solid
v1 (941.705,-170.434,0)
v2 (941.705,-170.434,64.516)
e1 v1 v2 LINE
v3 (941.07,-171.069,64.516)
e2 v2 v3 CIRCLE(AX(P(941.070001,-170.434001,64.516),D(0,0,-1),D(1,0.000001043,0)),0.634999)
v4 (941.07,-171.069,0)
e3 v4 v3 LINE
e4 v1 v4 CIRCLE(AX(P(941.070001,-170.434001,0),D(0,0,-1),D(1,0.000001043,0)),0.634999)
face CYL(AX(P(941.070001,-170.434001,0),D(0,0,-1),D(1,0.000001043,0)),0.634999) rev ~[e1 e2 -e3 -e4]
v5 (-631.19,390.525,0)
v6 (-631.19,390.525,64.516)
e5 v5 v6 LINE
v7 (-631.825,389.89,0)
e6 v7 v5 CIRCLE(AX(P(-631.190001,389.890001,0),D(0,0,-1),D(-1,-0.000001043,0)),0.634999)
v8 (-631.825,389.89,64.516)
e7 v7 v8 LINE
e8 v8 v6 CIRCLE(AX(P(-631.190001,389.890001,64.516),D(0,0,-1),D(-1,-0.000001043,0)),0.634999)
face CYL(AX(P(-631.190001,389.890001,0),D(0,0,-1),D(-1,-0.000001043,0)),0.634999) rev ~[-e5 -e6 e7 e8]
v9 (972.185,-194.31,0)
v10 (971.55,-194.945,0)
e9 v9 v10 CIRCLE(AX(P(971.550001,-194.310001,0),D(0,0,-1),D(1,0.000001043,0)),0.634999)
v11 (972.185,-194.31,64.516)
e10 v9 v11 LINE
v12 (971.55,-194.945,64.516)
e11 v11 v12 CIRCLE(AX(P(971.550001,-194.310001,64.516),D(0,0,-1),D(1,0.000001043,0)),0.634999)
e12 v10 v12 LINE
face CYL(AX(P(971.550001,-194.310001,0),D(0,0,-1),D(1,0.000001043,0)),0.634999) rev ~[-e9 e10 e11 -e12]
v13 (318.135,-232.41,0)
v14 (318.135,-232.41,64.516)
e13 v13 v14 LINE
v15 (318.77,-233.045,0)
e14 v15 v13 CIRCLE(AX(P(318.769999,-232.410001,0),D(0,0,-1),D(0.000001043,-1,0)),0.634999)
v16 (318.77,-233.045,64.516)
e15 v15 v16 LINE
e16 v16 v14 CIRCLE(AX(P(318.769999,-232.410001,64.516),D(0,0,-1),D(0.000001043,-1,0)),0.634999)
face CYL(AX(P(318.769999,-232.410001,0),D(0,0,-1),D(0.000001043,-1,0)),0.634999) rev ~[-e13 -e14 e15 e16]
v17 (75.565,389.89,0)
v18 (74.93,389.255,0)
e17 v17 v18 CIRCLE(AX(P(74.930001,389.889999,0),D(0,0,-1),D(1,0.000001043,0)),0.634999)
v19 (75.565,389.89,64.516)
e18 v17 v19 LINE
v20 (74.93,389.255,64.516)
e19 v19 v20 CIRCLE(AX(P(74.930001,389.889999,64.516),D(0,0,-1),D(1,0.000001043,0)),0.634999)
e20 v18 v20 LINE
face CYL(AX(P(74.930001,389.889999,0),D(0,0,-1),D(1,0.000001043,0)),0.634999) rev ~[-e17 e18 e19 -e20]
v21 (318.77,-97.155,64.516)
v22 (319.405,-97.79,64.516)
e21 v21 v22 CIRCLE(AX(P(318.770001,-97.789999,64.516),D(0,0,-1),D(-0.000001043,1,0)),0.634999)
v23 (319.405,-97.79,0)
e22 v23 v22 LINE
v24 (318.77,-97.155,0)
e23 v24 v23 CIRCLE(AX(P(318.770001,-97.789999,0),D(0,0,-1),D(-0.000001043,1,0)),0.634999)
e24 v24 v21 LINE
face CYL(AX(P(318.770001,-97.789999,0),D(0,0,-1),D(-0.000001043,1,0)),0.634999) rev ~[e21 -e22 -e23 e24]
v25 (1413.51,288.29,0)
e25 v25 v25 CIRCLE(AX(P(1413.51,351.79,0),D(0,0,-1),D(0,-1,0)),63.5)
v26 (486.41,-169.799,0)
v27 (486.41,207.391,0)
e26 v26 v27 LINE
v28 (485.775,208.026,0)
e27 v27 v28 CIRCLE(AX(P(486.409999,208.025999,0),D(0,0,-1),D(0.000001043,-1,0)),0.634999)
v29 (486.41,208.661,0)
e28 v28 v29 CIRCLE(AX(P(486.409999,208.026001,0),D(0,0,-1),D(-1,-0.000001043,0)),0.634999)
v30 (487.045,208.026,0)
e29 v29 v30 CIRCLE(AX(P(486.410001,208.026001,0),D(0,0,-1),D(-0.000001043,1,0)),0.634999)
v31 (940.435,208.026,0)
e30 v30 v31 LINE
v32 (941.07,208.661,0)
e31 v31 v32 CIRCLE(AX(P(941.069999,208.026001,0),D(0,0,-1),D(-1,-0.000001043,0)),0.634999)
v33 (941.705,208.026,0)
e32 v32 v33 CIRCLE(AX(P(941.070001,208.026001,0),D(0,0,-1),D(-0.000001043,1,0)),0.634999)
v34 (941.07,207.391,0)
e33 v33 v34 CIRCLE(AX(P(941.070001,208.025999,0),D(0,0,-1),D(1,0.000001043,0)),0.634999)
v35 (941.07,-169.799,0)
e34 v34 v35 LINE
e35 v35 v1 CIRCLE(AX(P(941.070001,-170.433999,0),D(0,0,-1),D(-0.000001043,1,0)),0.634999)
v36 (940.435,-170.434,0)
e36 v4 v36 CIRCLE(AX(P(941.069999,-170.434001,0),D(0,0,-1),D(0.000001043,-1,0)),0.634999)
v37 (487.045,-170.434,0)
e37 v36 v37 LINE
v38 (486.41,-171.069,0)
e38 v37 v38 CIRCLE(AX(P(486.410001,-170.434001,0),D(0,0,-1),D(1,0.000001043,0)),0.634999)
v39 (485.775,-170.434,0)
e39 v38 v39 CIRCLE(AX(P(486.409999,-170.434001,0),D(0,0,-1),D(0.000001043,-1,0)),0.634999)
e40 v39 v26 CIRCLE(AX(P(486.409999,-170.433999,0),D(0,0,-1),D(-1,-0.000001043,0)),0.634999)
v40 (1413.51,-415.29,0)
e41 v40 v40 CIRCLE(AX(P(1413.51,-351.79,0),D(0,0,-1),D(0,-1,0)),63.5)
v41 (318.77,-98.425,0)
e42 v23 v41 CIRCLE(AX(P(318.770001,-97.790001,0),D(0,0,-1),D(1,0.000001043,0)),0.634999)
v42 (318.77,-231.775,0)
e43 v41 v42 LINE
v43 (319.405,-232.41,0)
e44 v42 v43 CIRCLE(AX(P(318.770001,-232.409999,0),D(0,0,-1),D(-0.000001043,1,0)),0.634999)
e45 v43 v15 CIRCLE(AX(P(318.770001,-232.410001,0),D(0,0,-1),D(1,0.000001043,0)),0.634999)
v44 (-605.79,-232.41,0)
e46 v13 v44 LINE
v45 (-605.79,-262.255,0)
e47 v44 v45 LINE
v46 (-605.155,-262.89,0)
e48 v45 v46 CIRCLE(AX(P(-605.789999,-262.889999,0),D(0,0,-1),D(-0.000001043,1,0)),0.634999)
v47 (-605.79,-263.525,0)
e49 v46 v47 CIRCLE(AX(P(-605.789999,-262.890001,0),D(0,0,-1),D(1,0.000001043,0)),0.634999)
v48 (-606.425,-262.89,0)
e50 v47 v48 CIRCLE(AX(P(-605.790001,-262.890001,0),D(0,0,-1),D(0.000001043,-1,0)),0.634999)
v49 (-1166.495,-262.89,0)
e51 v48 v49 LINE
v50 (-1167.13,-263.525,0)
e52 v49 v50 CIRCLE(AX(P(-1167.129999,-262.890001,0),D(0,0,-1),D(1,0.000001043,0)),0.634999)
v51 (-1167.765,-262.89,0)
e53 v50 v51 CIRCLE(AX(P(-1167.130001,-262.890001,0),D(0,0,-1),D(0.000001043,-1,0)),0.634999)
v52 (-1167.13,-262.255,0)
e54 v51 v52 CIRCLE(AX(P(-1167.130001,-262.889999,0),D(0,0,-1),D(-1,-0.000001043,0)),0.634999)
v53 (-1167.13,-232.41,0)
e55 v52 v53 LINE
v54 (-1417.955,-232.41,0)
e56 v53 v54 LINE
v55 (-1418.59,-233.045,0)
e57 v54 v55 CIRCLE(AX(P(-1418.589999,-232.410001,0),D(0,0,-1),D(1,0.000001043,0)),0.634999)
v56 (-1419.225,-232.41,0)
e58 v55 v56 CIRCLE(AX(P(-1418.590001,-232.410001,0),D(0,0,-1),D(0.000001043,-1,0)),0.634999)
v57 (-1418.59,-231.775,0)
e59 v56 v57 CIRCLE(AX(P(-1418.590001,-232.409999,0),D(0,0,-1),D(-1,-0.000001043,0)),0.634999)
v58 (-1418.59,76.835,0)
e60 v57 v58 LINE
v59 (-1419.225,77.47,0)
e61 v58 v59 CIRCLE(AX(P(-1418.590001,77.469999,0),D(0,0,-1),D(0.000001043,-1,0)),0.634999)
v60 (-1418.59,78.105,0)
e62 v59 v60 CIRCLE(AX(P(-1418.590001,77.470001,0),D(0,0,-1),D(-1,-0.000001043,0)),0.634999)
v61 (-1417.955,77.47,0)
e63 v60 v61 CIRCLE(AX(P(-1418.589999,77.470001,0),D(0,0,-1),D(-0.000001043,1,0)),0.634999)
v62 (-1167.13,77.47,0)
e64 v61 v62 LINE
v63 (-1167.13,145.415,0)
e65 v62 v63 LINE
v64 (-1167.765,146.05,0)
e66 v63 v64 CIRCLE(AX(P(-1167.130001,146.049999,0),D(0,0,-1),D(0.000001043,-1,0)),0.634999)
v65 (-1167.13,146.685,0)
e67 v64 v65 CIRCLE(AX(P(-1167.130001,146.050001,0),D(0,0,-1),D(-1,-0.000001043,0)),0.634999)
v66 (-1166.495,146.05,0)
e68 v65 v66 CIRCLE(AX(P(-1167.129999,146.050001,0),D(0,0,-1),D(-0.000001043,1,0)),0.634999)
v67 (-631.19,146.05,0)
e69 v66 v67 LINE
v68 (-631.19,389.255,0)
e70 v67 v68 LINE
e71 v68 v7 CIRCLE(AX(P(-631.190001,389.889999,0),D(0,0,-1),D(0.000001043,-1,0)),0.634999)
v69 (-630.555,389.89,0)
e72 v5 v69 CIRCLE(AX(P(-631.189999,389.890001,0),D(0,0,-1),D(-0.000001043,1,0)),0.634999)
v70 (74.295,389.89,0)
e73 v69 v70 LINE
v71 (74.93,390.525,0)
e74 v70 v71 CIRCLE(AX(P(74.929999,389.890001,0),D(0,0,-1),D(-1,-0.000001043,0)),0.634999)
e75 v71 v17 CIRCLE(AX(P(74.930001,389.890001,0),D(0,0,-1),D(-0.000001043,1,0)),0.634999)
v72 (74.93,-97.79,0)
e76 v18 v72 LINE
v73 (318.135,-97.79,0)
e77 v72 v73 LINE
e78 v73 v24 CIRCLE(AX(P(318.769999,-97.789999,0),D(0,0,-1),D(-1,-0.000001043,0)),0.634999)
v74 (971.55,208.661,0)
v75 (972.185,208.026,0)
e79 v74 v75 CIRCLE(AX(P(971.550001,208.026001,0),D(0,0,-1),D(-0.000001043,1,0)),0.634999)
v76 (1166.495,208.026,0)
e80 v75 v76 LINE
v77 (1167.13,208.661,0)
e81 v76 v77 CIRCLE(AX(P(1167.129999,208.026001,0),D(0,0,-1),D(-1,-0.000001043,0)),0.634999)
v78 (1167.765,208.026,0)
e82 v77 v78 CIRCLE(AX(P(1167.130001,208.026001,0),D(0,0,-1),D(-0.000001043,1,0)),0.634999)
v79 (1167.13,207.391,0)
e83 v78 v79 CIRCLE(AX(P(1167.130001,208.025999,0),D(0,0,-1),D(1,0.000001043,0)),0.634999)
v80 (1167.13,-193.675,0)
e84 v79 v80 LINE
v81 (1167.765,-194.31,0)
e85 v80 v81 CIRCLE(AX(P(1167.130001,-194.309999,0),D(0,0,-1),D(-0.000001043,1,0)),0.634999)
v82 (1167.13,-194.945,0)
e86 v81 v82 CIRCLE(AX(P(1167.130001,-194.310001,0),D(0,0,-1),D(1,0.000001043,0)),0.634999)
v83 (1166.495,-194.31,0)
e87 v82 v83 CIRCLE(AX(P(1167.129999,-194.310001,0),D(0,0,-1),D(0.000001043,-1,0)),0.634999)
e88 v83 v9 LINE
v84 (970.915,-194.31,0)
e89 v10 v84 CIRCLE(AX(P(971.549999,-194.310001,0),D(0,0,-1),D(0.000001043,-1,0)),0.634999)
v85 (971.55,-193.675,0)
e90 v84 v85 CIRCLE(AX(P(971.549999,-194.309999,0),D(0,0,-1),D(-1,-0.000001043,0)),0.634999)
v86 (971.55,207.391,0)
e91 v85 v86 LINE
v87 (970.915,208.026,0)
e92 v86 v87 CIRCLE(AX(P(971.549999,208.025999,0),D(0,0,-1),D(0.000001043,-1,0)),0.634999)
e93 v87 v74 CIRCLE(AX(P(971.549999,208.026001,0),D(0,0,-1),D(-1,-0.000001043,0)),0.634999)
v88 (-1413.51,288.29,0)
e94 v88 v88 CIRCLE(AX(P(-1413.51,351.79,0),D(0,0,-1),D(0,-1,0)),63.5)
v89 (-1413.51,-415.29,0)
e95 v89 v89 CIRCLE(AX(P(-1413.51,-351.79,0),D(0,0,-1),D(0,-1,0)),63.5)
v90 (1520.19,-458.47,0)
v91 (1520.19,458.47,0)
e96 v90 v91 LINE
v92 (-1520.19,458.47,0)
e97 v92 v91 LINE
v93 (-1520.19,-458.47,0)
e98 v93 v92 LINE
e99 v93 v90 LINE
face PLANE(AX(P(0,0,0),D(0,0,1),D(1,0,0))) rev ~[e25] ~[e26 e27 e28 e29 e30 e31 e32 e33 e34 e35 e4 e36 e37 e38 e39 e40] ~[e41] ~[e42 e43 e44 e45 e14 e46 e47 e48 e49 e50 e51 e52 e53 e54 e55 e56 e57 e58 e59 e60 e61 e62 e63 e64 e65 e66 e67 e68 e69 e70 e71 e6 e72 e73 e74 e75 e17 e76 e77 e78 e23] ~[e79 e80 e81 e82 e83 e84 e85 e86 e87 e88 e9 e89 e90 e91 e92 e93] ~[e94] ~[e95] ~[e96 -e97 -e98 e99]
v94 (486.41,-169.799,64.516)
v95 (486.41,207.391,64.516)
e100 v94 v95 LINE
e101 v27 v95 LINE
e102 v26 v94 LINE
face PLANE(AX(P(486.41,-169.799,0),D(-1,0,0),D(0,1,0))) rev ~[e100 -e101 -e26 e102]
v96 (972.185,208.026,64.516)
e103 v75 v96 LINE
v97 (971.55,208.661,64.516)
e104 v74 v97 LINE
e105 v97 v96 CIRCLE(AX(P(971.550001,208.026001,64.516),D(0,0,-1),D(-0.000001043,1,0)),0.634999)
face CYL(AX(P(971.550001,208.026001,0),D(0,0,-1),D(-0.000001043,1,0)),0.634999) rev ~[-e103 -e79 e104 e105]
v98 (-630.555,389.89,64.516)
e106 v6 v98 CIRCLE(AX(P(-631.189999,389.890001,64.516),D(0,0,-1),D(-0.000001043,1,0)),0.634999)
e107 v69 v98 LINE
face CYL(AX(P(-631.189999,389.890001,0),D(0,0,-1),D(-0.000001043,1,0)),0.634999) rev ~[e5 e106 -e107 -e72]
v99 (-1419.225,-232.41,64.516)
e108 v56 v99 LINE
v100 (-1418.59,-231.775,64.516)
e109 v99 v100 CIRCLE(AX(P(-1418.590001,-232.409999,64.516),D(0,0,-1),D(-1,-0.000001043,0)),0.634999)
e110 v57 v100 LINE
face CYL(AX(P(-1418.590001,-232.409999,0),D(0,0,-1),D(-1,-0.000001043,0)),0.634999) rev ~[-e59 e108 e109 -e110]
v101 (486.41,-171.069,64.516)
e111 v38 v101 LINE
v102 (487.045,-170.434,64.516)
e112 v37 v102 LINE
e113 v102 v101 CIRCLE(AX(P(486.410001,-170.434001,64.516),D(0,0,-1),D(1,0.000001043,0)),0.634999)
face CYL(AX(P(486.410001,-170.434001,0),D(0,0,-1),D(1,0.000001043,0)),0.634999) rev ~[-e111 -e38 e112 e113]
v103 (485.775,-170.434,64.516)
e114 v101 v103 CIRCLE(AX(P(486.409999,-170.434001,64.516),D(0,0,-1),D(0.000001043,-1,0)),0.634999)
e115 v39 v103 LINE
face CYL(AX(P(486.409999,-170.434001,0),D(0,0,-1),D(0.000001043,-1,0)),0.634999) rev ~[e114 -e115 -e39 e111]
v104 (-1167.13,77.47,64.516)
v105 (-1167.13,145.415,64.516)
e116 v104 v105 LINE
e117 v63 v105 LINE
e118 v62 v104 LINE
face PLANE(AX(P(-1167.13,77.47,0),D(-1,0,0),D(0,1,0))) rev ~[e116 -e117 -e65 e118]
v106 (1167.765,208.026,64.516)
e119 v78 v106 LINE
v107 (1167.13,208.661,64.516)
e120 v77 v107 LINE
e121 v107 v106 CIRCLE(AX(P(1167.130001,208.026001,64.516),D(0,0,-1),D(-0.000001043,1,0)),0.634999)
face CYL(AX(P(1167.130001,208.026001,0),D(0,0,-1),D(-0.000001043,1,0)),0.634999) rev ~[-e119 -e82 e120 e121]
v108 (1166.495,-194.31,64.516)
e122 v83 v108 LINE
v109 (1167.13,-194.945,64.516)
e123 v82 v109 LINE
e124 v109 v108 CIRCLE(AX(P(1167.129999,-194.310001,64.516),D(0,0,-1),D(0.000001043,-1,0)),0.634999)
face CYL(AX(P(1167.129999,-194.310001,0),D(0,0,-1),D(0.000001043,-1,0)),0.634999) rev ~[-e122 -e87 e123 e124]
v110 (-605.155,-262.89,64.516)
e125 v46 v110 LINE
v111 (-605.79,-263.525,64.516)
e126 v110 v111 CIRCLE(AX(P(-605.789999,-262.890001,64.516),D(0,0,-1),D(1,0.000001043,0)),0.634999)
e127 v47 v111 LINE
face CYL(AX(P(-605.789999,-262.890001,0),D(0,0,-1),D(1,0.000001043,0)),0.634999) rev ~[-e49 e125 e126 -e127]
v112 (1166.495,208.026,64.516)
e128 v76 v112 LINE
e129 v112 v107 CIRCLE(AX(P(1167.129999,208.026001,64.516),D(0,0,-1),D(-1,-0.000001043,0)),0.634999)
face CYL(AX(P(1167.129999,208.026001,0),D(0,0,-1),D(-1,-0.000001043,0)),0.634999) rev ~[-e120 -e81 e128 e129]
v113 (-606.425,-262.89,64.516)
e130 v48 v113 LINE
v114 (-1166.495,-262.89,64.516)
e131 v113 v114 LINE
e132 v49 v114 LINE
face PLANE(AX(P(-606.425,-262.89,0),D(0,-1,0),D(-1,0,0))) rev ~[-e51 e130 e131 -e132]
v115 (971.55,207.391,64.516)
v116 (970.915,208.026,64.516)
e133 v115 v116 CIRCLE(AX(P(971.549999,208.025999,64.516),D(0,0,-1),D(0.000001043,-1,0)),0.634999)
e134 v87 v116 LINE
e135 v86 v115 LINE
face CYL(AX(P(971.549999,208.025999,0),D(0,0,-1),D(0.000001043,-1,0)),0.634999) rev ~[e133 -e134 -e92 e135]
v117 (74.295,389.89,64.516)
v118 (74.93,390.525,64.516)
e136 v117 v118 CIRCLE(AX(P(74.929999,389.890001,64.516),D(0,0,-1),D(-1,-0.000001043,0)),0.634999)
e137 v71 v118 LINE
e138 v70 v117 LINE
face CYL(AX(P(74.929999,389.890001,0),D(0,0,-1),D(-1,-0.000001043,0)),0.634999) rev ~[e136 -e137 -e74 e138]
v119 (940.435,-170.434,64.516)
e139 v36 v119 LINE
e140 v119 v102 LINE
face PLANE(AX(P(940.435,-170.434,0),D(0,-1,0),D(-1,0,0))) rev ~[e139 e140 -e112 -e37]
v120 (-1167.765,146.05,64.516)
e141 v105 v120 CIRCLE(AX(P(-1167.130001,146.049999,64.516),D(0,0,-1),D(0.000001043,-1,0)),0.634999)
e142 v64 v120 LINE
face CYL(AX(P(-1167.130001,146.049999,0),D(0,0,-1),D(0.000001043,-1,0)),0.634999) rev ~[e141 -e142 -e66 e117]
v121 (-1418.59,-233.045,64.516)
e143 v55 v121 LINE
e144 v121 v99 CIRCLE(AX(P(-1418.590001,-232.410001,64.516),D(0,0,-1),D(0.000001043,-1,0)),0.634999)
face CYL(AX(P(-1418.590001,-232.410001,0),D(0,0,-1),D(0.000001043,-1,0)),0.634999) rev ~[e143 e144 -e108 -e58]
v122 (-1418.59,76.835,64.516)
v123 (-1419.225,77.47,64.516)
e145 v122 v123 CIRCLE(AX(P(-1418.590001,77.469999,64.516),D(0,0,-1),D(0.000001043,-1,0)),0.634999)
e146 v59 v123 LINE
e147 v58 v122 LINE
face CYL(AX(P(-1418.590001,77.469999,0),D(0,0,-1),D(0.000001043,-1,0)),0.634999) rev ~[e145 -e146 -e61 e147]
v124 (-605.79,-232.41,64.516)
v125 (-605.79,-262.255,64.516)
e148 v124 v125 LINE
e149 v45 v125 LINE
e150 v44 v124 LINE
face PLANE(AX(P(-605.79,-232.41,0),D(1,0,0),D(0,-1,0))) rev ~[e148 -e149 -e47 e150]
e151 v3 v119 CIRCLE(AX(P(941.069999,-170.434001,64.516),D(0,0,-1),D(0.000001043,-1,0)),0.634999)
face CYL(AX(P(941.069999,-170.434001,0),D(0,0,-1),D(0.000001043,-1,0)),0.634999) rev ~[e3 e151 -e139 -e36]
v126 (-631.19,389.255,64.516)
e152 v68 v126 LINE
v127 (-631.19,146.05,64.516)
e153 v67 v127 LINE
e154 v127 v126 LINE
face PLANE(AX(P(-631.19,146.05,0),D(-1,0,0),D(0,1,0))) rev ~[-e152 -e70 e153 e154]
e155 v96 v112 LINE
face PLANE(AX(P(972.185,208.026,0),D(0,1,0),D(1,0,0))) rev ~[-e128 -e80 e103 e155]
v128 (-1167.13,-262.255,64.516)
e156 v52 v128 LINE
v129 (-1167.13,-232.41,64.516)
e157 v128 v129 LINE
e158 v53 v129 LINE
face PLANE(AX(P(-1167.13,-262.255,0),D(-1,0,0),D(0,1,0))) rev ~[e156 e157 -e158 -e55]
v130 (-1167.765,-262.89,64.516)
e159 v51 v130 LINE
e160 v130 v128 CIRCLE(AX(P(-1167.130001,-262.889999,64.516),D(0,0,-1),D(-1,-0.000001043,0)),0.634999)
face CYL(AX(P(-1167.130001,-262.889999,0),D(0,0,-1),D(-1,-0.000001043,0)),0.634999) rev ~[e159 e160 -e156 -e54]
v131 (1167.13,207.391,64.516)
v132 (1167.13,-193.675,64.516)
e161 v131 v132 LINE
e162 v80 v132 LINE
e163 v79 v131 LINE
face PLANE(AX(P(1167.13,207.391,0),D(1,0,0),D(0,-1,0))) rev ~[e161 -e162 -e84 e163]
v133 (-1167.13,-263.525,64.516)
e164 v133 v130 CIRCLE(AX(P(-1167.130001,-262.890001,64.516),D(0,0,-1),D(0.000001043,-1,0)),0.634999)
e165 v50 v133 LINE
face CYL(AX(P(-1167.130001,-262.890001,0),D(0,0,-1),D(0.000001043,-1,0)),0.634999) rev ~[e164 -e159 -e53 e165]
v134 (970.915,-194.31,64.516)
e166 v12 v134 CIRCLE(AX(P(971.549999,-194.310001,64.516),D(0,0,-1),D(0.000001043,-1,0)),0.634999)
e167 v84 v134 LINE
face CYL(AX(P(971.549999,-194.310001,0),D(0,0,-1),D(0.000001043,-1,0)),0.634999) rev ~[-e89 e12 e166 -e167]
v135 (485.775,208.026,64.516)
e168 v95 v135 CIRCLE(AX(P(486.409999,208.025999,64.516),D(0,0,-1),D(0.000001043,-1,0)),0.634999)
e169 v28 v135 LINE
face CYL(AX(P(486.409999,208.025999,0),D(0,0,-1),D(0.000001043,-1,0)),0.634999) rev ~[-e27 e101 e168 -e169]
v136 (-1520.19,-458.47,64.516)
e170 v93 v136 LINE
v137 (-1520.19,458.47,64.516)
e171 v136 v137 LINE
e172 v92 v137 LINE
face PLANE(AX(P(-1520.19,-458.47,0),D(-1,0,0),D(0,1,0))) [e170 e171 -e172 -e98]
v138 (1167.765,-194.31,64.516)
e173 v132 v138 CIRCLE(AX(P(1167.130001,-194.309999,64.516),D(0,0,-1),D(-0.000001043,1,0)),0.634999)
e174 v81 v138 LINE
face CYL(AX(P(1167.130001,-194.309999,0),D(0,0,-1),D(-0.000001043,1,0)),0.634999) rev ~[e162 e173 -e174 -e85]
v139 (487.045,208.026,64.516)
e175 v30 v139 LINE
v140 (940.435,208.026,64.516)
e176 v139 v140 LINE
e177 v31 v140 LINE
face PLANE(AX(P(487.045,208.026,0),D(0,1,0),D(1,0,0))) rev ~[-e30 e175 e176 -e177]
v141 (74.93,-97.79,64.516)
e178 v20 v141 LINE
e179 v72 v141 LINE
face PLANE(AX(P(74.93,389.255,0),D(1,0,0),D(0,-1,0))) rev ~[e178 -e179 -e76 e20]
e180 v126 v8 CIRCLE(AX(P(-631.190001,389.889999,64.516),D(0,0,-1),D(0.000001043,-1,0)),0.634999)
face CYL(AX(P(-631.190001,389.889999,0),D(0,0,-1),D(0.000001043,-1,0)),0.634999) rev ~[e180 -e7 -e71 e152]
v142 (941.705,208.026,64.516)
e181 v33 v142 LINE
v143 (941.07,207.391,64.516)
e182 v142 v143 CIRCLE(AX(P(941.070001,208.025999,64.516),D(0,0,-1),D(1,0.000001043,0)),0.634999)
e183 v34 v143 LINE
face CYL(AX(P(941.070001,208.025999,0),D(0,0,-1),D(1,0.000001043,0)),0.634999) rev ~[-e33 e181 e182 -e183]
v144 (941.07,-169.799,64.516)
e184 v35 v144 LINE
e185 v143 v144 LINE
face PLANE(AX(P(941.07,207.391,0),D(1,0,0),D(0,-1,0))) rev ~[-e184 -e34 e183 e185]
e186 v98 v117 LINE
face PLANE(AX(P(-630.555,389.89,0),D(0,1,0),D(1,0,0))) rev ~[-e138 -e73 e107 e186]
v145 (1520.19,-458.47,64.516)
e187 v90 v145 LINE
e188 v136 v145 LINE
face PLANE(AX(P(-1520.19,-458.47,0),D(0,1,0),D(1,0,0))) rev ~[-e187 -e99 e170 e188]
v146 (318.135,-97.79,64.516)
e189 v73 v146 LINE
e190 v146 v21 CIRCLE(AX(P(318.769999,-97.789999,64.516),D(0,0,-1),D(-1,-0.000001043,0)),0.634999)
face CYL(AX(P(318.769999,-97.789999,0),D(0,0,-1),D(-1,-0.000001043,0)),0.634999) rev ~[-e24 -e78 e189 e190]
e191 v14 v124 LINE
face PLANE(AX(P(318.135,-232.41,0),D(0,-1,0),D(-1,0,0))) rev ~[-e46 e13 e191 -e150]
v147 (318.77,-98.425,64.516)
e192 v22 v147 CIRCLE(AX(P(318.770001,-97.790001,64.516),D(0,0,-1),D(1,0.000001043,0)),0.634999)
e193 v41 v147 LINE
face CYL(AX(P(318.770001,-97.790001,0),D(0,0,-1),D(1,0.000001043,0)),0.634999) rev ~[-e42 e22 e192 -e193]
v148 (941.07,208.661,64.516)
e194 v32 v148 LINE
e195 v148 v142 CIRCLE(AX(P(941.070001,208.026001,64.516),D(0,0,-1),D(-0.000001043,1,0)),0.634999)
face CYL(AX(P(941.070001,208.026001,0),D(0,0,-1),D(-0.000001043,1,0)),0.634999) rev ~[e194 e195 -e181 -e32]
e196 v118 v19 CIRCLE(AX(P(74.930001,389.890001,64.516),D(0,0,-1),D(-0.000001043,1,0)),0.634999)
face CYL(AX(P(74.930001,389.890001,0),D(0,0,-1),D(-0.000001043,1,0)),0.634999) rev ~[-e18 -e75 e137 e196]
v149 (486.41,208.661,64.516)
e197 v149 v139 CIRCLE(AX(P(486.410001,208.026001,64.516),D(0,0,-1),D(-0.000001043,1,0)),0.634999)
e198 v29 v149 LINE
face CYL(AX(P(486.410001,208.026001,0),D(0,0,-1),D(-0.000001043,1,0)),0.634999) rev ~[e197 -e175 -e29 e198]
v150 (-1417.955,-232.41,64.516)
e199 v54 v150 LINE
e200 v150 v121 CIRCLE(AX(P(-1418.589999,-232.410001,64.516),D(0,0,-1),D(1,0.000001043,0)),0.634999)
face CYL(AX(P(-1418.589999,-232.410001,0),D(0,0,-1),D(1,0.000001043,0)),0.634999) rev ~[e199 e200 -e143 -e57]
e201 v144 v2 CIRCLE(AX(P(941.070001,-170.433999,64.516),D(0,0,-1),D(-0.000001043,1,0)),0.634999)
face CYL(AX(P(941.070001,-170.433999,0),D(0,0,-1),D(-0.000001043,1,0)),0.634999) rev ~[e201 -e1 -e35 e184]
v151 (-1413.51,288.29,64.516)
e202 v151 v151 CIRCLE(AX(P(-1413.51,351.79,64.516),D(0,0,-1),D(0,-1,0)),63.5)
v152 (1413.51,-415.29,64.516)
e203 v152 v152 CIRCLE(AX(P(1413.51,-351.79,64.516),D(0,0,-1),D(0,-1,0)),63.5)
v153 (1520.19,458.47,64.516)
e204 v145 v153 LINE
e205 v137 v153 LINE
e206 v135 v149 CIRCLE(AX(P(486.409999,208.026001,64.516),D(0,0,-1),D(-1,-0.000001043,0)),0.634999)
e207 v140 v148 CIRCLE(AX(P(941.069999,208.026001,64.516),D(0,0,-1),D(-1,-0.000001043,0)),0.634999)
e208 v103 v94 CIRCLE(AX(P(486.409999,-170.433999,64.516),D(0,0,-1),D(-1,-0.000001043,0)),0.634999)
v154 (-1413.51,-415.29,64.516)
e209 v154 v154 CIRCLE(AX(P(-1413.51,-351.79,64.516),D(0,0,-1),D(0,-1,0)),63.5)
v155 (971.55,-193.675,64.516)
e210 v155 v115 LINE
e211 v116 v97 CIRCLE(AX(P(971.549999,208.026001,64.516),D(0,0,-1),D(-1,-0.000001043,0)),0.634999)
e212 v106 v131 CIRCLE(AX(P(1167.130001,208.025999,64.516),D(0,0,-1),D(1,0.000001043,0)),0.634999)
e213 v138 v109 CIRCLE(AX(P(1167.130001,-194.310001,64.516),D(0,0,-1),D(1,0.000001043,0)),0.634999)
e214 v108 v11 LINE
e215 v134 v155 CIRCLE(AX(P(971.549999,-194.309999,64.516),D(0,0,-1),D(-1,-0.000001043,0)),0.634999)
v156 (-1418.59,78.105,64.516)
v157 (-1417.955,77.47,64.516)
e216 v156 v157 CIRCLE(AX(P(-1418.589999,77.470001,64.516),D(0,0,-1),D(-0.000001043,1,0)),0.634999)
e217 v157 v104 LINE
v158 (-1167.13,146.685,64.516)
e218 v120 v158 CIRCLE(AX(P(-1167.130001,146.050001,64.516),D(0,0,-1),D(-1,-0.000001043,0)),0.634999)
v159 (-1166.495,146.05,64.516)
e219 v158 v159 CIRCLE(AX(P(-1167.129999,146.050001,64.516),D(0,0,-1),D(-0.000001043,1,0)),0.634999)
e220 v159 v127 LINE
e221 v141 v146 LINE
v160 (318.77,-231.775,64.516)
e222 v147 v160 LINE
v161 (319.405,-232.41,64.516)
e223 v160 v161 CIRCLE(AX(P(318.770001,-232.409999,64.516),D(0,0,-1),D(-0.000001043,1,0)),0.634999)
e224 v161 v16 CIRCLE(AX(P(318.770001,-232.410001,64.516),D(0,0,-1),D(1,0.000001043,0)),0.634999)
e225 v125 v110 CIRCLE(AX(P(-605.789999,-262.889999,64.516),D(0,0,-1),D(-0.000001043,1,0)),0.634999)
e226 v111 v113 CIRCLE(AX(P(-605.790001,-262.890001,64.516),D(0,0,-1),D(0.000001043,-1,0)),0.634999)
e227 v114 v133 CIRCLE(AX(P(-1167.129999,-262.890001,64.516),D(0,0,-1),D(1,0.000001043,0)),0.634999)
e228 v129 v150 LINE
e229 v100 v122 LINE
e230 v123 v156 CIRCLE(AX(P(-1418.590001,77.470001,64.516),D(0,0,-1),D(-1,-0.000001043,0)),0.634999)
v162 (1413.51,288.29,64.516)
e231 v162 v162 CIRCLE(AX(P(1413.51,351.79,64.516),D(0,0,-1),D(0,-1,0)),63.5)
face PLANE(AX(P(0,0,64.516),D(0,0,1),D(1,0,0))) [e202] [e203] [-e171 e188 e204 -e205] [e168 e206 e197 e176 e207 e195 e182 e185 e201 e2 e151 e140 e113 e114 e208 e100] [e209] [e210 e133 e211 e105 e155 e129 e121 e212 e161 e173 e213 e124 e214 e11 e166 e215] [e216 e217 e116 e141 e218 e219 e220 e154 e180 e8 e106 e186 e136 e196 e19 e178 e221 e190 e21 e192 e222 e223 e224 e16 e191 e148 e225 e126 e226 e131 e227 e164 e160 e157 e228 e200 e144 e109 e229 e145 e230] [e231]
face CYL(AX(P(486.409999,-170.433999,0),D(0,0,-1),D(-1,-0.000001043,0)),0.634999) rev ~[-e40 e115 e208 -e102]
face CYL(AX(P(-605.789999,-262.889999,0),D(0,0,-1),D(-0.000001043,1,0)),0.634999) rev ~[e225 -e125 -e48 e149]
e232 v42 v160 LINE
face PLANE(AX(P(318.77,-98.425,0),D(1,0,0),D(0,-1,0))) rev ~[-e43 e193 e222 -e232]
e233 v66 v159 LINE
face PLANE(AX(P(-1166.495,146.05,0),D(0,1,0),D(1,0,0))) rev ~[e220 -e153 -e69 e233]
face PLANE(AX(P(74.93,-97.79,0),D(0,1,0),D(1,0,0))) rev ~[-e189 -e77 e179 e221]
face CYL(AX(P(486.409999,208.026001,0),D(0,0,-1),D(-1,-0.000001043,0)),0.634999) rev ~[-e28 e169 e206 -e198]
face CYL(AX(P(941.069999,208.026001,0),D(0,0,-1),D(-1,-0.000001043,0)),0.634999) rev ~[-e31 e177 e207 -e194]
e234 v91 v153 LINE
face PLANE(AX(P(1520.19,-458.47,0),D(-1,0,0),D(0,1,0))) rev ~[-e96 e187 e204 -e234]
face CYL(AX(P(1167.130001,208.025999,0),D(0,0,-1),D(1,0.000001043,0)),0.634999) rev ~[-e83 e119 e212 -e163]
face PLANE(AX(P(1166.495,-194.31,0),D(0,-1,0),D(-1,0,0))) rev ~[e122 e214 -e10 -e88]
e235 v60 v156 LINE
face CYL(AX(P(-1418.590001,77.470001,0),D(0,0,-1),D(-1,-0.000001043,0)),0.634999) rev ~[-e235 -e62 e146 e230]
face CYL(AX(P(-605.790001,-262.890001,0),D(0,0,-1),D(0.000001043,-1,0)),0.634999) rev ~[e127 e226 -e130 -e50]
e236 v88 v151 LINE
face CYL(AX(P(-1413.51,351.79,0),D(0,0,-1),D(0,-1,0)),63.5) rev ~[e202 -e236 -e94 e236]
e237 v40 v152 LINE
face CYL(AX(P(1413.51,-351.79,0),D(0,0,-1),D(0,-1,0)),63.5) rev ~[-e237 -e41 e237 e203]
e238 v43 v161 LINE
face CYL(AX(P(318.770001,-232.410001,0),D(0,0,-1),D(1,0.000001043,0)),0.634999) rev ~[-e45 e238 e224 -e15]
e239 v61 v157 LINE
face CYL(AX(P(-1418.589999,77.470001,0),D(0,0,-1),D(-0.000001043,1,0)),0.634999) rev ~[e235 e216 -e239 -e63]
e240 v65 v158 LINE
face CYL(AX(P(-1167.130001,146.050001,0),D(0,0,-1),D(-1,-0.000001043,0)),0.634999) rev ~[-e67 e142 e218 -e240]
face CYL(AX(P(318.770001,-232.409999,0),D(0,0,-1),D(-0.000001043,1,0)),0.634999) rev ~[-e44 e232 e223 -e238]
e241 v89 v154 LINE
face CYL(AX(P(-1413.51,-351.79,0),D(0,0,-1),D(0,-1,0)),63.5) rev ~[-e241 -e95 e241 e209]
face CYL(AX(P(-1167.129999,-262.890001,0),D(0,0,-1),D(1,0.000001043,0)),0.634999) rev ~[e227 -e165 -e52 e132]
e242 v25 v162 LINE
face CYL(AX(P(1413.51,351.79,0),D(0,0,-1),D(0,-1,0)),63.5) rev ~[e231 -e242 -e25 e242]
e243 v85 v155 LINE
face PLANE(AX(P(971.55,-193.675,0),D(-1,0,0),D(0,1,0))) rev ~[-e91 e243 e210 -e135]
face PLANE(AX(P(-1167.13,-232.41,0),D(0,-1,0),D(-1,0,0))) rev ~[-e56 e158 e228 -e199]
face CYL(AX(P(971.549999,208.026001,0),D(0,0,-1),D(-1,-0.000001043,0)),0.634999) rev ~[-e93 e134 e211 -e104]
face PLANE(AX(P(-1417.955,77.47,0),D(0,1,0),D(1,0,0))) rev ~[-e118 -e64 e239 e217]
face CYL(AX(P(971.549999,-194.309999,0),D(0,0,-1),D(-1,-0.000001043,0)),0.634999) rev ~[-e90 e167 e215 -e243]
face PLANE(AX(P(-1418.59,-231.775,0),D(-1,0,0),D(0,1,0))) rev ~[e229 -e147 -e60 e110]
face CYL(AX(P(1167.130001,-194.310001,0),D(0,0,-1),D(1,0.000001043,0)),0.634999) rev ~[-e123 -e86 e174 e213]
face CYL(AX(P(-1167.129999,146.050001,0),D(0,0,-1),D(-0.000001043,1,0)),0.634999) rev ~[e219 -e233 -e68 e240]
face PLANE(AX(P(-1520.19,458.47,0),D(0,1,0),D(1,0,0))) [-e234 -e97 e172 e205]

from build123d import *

# Parameters (mm, degrees)
F0_W     = 3040.38
F0_H     = 916.94
F1_DEPTH = 64.516


with BuildPart() as f1:
    # F0 (on Top) → F1 (new body)
    with BuildSketch(Plane.XY):
        Rectangle(F0_W, F0_H)
        with BuildLine():
            ThreePointArc((-1413.51, -288.29), (-1350.01, -351.79), (-1413.51, -415.29))
            ThreePointArc((-1413.51, -415.29), (-1477.01, -351.79), (-1413.51, -288.29))
        make_face(mode=Mode.SUBTRACT)
        with BuildLine():
            ThreePointArc((1413.51, -288.29), (1477.01, -351.79), (1413.51, -415.29))
            ThreePointArc((1413.51, -415.29), (1350.01, -351.79), (1413.51, -288.29))
        make_face(mode=Mode.SUBTRACT)
        with BuildLine():
            Line((-1167.765, -232.41), (-1417.955, -232.41))
            ThreePointArc((-1417.955, -232.41), (-1418.140987, -232.859013), (-1418.59, -233.045))
            ThreePointArc((-1418.59, -233.045), (-1419.039013, -232.859013), (-1419.225, -232.41))
            ThreePointArc((-1419.225, -232.41), (-1419.039013, -231.960987), (-1418.59, -231.775))
            Line((-1418.59, -231.775), (-1418.59, 76.835))
            ThreePointArc((-1418.59, 76.835), (-1419.039013, 77.020987), (-1419.225, 77.47))
            ThreePointArc((-1419.225, 77.47), (-1419.039013, 77.919013), (-1418.59, 78.105))
            ThreePointArc((-1418.59, 78.105), (-1418.140987, 77.919013), (-1417.955, 77.47))
            Line((-1417.955, 77.47), (-1167.765, 77.47))
            Line((-1167.765, 77.47), (-1167.13, 77.47))
            Line((-1167.13, 77.47), (-1167.13, 78.105))
            Line((-1167.13, 78.105), (-1167.13, 145.415))
            ThreePointArc((-1167.13, 145.415), (-1167.579013, 145.600987), (-1167.765, 146.05))
            ThreePointArc((-1167.765, 146.05), (-1167.579013, 146.499013), (-1167.13, 146.685))
            ThreePointArc((-1167.13, 146.685), (-1166.680987, 146.499013), (-1166.495, 146.05))
            Line((-1166.495, 146.05), (-631.825, 146.05))
            Line((-631.825, 146.05), (-631.19, 146.05))
            Line((-631.19, 146.05), (-631.19, 146.685))
            Line((-631.19, 146.685), (-631.19, 389.255))
            ThreePointArc((-631.19, 389.255), (-631.639013, 389.440987), (-631.825, 389.89))
            ThreePointArc((-631.825, 389.89), (-631.639013, 390.339013), (-631.19, 390.525))
            ThreePointArc((-631.19, 390.525), (-630.740987, 390.339013), (-630.555, 389.89))
            Line((-630.555, 389.89), (74.295, 389.89))
            ThreePointArc((74.295, 389.89), (74.480987, 390.339013), (74.93, 390.525))
            ThreePointArc((74.93, 390.525), (75.379013, 390.339013), (75.565, 389.89))
            ThreePointArc((75.565, 389.89), (75.379013, 389.440987), (74.93, 389.255))
            Line((74.93, 389.255), (74.93, -97.155))
            Line((74.93, -97.155), (74.93, -97.79))
            Line((74.93, -97.79), (75.565, -97.79))
            Line((75.565, -97.79), (318.135, -97.79))
            ThreePointArc((318.135, -97.79), (318.320987, -97.340987), (318.77, -97.155))
            ThreePointArc((318.77, -97.155), (319.219013, -97.340987), (319.405, -97.79))
            ThreePointArc((319.405, -97.79), (319.219013, -98.239013), (318.77, -98.425))
            Line((318.77, -98.425), (318.77, -231.775))
            ThreePointArc((318.77, -231.775), (319.219013, -231.960987), (319.405, -232.41))
            ThreePointArc((319.405, -232.41), (319.219013, -232.859013), (318.77, -233.045))
            ThreePointArc((318.77, -233.045), (318.320987, -232.859013), (318.135, -232.41))
            Line((318.135, -232.41), (-605.155, -232.41))
            Line((-605.155, -232.41), (-605.79, -232.41))
            Line((-605.79, -232.41), (-605.79, -233.045))
            Line((-605.79, -233.045), (-605.79, -262.255))
            ThreePointArc((-605.79, -262.255), (-605.340987, -262.440987), (-605.155, -262.89))
            ThreePointArc((-605.155, -262.89), (-605.340987, -263.339013), (-605.79, -263.525))
            ThreePointArc((-605.79, -263.525), (-606.239013, -263.339013), (-606.425, -262.89))
            Line((-606.425, -262.89), (-1166.495, -262.89))
            ThreePointArc((-1166.495, -262.89), (-1166.680987, -263.339013), (-1167.13, -263.525))
            ThreePointArc((-1167.13, -263.525), (-1167.579013, -263.339013), (-1167.765, -262.89))
            ThreePointArc((-1167.765, -262.89), (-1167.579013, -262.440987), (-1167.13, -262.255))
            Line((-1167.13, -262.255), (-1167.13, -233.045))
            Line((-1167.13, -233.045), (-1167.13, -232.41))
            Line((-1167.13, -232.41), (-1167.765, -232.41))
        make_face(mode=Mode.SUBTRACT)
        with BuildLine():
            ThreePointArc((-1413.51, 415.29), (-1350.01, 351.79), (-1413.51, 288.29))
            ThreePointArc((-1413.51, 288.29), (-1477.01, 351.79), (-1413.51, 415.29))
        make_face(mode=Mode.SUBTRACT)
        with BuildLine():
            Line((940.435, -170.434), (487.045, -170.434))
            ThreePointArc((487.045, -170.434), (486.859013, -170.883013), (486.41, -171.069))
            ThreePointArc((486.41, -171.069), (485.960987, -170.883013), (485.775, -170.434))
            ThreePointArc((485.775, -170.434), (485.960987, -169.984987), (486.41, -169.799))
            Line((486.41, -169.799), (486.41, 207.391))
            ThreePointArc((486.41, 207.391), (485.960987, 207.576987), (485.775, 208.026))
            ThreePointArc((485.775, 208.026), (485.960987, 208.475013), (486.41, 208.661))
            ThreePointArc((486.41, 208.661), (486.859013, 208.475013), (487.045, 208.026))
            Line((487.045, 208.026), (940.435, 208.026))
            ThreePointArc((940.435, 208.026), (940.620987, 208.475013), (941.07, 208.661))
            ThreePointArc((941.07, 208.661), (941.519013, 208.475013), (941.705, 208.026))
            ThreePointArc((941.705, 208.026), (941.519013, 207.576987), (941.07, 207.391))
            Line((941.07, 207.391), (941.07, -169.799))
            ThreePointArc((941.07, -169.799), (941.519013, -169.984987), (941.705, -170.434))
            ThreePointArc((941.705, -170.434), (941.519013, -170.883013), (941.07, -171.069))
            ThreePointArc((941.07, -171.069), (940.620987, -170.883013), (940.435, -170.434))
        make_face(mode=Mode.SUBTRACT)
        with BuildLine():
            Line((1166.495, -194.31), (972.185, -194.31))
            ThreePointArc((972.185, -194.31), (971.999013, -194.759013), (971.55, -194.945))
            ThreePointArc((971.55, -194.945), (971.100987, -194.759013), (970.915, -194.31))
            ThreePointArc((970.915, -194.31), (971.100987, -193.860987), (971.55, -193.675))
            Line((971.55, -193.675), (971.55, 207.391))
            ThreePointArc((971.55, 207.391), (971.100987, 207.576987), (970.915, 208.026))
            ThreePointArc((970.915, 208.026), (971.100987, 208.475013), (971.55, 208.661))
            ThreePointArc((971.55, 208.661), (971.999013, 208.475013), (972.185, 208.026))
            Line((972.185, 208.026), (1166.495, 208.026))
            ThreePointArc((1166.495, 208.026), (1166.680987, 208.475013), (1167.13, 208.661))
            ThreePointArc((1167.13, 208.661), (1167.579013, 208.475013), (1167.765, 208.026))
            ThreePointArc((1167.765, 208.026), (1167.579013, 207.576987), (1167.13, 207.391))
            Line((1167.13, 207.391), (1167.13, -193.675))
            ThreePointArc((1167.13, -193.675), (1167.579013, -193.860987), (1167.765, -194.31))
            ThreePointArc((1167.765, -194.31), (1167.579013, -194.759013), (1167.13, -194.945))
            ThreePointArc((1167.13, -194.945), (1166.680987, -194.759013), (1166.495, -194.31))
        make_face(mode=Mode.SUBTRACT)
        with BuildLine():
            ThreePointArc((1413.51, 415.29), (1477.01, 351.79), (1413.51, 288.29))
            ThreePointArc((1413.51, 288.29), (1350.01, 351.79), (1413.51, 415.29))
        make_face(mode=Mode.SUBTRACT)
    extrude(amount=F1_DEPTH)


solid = f1.part
